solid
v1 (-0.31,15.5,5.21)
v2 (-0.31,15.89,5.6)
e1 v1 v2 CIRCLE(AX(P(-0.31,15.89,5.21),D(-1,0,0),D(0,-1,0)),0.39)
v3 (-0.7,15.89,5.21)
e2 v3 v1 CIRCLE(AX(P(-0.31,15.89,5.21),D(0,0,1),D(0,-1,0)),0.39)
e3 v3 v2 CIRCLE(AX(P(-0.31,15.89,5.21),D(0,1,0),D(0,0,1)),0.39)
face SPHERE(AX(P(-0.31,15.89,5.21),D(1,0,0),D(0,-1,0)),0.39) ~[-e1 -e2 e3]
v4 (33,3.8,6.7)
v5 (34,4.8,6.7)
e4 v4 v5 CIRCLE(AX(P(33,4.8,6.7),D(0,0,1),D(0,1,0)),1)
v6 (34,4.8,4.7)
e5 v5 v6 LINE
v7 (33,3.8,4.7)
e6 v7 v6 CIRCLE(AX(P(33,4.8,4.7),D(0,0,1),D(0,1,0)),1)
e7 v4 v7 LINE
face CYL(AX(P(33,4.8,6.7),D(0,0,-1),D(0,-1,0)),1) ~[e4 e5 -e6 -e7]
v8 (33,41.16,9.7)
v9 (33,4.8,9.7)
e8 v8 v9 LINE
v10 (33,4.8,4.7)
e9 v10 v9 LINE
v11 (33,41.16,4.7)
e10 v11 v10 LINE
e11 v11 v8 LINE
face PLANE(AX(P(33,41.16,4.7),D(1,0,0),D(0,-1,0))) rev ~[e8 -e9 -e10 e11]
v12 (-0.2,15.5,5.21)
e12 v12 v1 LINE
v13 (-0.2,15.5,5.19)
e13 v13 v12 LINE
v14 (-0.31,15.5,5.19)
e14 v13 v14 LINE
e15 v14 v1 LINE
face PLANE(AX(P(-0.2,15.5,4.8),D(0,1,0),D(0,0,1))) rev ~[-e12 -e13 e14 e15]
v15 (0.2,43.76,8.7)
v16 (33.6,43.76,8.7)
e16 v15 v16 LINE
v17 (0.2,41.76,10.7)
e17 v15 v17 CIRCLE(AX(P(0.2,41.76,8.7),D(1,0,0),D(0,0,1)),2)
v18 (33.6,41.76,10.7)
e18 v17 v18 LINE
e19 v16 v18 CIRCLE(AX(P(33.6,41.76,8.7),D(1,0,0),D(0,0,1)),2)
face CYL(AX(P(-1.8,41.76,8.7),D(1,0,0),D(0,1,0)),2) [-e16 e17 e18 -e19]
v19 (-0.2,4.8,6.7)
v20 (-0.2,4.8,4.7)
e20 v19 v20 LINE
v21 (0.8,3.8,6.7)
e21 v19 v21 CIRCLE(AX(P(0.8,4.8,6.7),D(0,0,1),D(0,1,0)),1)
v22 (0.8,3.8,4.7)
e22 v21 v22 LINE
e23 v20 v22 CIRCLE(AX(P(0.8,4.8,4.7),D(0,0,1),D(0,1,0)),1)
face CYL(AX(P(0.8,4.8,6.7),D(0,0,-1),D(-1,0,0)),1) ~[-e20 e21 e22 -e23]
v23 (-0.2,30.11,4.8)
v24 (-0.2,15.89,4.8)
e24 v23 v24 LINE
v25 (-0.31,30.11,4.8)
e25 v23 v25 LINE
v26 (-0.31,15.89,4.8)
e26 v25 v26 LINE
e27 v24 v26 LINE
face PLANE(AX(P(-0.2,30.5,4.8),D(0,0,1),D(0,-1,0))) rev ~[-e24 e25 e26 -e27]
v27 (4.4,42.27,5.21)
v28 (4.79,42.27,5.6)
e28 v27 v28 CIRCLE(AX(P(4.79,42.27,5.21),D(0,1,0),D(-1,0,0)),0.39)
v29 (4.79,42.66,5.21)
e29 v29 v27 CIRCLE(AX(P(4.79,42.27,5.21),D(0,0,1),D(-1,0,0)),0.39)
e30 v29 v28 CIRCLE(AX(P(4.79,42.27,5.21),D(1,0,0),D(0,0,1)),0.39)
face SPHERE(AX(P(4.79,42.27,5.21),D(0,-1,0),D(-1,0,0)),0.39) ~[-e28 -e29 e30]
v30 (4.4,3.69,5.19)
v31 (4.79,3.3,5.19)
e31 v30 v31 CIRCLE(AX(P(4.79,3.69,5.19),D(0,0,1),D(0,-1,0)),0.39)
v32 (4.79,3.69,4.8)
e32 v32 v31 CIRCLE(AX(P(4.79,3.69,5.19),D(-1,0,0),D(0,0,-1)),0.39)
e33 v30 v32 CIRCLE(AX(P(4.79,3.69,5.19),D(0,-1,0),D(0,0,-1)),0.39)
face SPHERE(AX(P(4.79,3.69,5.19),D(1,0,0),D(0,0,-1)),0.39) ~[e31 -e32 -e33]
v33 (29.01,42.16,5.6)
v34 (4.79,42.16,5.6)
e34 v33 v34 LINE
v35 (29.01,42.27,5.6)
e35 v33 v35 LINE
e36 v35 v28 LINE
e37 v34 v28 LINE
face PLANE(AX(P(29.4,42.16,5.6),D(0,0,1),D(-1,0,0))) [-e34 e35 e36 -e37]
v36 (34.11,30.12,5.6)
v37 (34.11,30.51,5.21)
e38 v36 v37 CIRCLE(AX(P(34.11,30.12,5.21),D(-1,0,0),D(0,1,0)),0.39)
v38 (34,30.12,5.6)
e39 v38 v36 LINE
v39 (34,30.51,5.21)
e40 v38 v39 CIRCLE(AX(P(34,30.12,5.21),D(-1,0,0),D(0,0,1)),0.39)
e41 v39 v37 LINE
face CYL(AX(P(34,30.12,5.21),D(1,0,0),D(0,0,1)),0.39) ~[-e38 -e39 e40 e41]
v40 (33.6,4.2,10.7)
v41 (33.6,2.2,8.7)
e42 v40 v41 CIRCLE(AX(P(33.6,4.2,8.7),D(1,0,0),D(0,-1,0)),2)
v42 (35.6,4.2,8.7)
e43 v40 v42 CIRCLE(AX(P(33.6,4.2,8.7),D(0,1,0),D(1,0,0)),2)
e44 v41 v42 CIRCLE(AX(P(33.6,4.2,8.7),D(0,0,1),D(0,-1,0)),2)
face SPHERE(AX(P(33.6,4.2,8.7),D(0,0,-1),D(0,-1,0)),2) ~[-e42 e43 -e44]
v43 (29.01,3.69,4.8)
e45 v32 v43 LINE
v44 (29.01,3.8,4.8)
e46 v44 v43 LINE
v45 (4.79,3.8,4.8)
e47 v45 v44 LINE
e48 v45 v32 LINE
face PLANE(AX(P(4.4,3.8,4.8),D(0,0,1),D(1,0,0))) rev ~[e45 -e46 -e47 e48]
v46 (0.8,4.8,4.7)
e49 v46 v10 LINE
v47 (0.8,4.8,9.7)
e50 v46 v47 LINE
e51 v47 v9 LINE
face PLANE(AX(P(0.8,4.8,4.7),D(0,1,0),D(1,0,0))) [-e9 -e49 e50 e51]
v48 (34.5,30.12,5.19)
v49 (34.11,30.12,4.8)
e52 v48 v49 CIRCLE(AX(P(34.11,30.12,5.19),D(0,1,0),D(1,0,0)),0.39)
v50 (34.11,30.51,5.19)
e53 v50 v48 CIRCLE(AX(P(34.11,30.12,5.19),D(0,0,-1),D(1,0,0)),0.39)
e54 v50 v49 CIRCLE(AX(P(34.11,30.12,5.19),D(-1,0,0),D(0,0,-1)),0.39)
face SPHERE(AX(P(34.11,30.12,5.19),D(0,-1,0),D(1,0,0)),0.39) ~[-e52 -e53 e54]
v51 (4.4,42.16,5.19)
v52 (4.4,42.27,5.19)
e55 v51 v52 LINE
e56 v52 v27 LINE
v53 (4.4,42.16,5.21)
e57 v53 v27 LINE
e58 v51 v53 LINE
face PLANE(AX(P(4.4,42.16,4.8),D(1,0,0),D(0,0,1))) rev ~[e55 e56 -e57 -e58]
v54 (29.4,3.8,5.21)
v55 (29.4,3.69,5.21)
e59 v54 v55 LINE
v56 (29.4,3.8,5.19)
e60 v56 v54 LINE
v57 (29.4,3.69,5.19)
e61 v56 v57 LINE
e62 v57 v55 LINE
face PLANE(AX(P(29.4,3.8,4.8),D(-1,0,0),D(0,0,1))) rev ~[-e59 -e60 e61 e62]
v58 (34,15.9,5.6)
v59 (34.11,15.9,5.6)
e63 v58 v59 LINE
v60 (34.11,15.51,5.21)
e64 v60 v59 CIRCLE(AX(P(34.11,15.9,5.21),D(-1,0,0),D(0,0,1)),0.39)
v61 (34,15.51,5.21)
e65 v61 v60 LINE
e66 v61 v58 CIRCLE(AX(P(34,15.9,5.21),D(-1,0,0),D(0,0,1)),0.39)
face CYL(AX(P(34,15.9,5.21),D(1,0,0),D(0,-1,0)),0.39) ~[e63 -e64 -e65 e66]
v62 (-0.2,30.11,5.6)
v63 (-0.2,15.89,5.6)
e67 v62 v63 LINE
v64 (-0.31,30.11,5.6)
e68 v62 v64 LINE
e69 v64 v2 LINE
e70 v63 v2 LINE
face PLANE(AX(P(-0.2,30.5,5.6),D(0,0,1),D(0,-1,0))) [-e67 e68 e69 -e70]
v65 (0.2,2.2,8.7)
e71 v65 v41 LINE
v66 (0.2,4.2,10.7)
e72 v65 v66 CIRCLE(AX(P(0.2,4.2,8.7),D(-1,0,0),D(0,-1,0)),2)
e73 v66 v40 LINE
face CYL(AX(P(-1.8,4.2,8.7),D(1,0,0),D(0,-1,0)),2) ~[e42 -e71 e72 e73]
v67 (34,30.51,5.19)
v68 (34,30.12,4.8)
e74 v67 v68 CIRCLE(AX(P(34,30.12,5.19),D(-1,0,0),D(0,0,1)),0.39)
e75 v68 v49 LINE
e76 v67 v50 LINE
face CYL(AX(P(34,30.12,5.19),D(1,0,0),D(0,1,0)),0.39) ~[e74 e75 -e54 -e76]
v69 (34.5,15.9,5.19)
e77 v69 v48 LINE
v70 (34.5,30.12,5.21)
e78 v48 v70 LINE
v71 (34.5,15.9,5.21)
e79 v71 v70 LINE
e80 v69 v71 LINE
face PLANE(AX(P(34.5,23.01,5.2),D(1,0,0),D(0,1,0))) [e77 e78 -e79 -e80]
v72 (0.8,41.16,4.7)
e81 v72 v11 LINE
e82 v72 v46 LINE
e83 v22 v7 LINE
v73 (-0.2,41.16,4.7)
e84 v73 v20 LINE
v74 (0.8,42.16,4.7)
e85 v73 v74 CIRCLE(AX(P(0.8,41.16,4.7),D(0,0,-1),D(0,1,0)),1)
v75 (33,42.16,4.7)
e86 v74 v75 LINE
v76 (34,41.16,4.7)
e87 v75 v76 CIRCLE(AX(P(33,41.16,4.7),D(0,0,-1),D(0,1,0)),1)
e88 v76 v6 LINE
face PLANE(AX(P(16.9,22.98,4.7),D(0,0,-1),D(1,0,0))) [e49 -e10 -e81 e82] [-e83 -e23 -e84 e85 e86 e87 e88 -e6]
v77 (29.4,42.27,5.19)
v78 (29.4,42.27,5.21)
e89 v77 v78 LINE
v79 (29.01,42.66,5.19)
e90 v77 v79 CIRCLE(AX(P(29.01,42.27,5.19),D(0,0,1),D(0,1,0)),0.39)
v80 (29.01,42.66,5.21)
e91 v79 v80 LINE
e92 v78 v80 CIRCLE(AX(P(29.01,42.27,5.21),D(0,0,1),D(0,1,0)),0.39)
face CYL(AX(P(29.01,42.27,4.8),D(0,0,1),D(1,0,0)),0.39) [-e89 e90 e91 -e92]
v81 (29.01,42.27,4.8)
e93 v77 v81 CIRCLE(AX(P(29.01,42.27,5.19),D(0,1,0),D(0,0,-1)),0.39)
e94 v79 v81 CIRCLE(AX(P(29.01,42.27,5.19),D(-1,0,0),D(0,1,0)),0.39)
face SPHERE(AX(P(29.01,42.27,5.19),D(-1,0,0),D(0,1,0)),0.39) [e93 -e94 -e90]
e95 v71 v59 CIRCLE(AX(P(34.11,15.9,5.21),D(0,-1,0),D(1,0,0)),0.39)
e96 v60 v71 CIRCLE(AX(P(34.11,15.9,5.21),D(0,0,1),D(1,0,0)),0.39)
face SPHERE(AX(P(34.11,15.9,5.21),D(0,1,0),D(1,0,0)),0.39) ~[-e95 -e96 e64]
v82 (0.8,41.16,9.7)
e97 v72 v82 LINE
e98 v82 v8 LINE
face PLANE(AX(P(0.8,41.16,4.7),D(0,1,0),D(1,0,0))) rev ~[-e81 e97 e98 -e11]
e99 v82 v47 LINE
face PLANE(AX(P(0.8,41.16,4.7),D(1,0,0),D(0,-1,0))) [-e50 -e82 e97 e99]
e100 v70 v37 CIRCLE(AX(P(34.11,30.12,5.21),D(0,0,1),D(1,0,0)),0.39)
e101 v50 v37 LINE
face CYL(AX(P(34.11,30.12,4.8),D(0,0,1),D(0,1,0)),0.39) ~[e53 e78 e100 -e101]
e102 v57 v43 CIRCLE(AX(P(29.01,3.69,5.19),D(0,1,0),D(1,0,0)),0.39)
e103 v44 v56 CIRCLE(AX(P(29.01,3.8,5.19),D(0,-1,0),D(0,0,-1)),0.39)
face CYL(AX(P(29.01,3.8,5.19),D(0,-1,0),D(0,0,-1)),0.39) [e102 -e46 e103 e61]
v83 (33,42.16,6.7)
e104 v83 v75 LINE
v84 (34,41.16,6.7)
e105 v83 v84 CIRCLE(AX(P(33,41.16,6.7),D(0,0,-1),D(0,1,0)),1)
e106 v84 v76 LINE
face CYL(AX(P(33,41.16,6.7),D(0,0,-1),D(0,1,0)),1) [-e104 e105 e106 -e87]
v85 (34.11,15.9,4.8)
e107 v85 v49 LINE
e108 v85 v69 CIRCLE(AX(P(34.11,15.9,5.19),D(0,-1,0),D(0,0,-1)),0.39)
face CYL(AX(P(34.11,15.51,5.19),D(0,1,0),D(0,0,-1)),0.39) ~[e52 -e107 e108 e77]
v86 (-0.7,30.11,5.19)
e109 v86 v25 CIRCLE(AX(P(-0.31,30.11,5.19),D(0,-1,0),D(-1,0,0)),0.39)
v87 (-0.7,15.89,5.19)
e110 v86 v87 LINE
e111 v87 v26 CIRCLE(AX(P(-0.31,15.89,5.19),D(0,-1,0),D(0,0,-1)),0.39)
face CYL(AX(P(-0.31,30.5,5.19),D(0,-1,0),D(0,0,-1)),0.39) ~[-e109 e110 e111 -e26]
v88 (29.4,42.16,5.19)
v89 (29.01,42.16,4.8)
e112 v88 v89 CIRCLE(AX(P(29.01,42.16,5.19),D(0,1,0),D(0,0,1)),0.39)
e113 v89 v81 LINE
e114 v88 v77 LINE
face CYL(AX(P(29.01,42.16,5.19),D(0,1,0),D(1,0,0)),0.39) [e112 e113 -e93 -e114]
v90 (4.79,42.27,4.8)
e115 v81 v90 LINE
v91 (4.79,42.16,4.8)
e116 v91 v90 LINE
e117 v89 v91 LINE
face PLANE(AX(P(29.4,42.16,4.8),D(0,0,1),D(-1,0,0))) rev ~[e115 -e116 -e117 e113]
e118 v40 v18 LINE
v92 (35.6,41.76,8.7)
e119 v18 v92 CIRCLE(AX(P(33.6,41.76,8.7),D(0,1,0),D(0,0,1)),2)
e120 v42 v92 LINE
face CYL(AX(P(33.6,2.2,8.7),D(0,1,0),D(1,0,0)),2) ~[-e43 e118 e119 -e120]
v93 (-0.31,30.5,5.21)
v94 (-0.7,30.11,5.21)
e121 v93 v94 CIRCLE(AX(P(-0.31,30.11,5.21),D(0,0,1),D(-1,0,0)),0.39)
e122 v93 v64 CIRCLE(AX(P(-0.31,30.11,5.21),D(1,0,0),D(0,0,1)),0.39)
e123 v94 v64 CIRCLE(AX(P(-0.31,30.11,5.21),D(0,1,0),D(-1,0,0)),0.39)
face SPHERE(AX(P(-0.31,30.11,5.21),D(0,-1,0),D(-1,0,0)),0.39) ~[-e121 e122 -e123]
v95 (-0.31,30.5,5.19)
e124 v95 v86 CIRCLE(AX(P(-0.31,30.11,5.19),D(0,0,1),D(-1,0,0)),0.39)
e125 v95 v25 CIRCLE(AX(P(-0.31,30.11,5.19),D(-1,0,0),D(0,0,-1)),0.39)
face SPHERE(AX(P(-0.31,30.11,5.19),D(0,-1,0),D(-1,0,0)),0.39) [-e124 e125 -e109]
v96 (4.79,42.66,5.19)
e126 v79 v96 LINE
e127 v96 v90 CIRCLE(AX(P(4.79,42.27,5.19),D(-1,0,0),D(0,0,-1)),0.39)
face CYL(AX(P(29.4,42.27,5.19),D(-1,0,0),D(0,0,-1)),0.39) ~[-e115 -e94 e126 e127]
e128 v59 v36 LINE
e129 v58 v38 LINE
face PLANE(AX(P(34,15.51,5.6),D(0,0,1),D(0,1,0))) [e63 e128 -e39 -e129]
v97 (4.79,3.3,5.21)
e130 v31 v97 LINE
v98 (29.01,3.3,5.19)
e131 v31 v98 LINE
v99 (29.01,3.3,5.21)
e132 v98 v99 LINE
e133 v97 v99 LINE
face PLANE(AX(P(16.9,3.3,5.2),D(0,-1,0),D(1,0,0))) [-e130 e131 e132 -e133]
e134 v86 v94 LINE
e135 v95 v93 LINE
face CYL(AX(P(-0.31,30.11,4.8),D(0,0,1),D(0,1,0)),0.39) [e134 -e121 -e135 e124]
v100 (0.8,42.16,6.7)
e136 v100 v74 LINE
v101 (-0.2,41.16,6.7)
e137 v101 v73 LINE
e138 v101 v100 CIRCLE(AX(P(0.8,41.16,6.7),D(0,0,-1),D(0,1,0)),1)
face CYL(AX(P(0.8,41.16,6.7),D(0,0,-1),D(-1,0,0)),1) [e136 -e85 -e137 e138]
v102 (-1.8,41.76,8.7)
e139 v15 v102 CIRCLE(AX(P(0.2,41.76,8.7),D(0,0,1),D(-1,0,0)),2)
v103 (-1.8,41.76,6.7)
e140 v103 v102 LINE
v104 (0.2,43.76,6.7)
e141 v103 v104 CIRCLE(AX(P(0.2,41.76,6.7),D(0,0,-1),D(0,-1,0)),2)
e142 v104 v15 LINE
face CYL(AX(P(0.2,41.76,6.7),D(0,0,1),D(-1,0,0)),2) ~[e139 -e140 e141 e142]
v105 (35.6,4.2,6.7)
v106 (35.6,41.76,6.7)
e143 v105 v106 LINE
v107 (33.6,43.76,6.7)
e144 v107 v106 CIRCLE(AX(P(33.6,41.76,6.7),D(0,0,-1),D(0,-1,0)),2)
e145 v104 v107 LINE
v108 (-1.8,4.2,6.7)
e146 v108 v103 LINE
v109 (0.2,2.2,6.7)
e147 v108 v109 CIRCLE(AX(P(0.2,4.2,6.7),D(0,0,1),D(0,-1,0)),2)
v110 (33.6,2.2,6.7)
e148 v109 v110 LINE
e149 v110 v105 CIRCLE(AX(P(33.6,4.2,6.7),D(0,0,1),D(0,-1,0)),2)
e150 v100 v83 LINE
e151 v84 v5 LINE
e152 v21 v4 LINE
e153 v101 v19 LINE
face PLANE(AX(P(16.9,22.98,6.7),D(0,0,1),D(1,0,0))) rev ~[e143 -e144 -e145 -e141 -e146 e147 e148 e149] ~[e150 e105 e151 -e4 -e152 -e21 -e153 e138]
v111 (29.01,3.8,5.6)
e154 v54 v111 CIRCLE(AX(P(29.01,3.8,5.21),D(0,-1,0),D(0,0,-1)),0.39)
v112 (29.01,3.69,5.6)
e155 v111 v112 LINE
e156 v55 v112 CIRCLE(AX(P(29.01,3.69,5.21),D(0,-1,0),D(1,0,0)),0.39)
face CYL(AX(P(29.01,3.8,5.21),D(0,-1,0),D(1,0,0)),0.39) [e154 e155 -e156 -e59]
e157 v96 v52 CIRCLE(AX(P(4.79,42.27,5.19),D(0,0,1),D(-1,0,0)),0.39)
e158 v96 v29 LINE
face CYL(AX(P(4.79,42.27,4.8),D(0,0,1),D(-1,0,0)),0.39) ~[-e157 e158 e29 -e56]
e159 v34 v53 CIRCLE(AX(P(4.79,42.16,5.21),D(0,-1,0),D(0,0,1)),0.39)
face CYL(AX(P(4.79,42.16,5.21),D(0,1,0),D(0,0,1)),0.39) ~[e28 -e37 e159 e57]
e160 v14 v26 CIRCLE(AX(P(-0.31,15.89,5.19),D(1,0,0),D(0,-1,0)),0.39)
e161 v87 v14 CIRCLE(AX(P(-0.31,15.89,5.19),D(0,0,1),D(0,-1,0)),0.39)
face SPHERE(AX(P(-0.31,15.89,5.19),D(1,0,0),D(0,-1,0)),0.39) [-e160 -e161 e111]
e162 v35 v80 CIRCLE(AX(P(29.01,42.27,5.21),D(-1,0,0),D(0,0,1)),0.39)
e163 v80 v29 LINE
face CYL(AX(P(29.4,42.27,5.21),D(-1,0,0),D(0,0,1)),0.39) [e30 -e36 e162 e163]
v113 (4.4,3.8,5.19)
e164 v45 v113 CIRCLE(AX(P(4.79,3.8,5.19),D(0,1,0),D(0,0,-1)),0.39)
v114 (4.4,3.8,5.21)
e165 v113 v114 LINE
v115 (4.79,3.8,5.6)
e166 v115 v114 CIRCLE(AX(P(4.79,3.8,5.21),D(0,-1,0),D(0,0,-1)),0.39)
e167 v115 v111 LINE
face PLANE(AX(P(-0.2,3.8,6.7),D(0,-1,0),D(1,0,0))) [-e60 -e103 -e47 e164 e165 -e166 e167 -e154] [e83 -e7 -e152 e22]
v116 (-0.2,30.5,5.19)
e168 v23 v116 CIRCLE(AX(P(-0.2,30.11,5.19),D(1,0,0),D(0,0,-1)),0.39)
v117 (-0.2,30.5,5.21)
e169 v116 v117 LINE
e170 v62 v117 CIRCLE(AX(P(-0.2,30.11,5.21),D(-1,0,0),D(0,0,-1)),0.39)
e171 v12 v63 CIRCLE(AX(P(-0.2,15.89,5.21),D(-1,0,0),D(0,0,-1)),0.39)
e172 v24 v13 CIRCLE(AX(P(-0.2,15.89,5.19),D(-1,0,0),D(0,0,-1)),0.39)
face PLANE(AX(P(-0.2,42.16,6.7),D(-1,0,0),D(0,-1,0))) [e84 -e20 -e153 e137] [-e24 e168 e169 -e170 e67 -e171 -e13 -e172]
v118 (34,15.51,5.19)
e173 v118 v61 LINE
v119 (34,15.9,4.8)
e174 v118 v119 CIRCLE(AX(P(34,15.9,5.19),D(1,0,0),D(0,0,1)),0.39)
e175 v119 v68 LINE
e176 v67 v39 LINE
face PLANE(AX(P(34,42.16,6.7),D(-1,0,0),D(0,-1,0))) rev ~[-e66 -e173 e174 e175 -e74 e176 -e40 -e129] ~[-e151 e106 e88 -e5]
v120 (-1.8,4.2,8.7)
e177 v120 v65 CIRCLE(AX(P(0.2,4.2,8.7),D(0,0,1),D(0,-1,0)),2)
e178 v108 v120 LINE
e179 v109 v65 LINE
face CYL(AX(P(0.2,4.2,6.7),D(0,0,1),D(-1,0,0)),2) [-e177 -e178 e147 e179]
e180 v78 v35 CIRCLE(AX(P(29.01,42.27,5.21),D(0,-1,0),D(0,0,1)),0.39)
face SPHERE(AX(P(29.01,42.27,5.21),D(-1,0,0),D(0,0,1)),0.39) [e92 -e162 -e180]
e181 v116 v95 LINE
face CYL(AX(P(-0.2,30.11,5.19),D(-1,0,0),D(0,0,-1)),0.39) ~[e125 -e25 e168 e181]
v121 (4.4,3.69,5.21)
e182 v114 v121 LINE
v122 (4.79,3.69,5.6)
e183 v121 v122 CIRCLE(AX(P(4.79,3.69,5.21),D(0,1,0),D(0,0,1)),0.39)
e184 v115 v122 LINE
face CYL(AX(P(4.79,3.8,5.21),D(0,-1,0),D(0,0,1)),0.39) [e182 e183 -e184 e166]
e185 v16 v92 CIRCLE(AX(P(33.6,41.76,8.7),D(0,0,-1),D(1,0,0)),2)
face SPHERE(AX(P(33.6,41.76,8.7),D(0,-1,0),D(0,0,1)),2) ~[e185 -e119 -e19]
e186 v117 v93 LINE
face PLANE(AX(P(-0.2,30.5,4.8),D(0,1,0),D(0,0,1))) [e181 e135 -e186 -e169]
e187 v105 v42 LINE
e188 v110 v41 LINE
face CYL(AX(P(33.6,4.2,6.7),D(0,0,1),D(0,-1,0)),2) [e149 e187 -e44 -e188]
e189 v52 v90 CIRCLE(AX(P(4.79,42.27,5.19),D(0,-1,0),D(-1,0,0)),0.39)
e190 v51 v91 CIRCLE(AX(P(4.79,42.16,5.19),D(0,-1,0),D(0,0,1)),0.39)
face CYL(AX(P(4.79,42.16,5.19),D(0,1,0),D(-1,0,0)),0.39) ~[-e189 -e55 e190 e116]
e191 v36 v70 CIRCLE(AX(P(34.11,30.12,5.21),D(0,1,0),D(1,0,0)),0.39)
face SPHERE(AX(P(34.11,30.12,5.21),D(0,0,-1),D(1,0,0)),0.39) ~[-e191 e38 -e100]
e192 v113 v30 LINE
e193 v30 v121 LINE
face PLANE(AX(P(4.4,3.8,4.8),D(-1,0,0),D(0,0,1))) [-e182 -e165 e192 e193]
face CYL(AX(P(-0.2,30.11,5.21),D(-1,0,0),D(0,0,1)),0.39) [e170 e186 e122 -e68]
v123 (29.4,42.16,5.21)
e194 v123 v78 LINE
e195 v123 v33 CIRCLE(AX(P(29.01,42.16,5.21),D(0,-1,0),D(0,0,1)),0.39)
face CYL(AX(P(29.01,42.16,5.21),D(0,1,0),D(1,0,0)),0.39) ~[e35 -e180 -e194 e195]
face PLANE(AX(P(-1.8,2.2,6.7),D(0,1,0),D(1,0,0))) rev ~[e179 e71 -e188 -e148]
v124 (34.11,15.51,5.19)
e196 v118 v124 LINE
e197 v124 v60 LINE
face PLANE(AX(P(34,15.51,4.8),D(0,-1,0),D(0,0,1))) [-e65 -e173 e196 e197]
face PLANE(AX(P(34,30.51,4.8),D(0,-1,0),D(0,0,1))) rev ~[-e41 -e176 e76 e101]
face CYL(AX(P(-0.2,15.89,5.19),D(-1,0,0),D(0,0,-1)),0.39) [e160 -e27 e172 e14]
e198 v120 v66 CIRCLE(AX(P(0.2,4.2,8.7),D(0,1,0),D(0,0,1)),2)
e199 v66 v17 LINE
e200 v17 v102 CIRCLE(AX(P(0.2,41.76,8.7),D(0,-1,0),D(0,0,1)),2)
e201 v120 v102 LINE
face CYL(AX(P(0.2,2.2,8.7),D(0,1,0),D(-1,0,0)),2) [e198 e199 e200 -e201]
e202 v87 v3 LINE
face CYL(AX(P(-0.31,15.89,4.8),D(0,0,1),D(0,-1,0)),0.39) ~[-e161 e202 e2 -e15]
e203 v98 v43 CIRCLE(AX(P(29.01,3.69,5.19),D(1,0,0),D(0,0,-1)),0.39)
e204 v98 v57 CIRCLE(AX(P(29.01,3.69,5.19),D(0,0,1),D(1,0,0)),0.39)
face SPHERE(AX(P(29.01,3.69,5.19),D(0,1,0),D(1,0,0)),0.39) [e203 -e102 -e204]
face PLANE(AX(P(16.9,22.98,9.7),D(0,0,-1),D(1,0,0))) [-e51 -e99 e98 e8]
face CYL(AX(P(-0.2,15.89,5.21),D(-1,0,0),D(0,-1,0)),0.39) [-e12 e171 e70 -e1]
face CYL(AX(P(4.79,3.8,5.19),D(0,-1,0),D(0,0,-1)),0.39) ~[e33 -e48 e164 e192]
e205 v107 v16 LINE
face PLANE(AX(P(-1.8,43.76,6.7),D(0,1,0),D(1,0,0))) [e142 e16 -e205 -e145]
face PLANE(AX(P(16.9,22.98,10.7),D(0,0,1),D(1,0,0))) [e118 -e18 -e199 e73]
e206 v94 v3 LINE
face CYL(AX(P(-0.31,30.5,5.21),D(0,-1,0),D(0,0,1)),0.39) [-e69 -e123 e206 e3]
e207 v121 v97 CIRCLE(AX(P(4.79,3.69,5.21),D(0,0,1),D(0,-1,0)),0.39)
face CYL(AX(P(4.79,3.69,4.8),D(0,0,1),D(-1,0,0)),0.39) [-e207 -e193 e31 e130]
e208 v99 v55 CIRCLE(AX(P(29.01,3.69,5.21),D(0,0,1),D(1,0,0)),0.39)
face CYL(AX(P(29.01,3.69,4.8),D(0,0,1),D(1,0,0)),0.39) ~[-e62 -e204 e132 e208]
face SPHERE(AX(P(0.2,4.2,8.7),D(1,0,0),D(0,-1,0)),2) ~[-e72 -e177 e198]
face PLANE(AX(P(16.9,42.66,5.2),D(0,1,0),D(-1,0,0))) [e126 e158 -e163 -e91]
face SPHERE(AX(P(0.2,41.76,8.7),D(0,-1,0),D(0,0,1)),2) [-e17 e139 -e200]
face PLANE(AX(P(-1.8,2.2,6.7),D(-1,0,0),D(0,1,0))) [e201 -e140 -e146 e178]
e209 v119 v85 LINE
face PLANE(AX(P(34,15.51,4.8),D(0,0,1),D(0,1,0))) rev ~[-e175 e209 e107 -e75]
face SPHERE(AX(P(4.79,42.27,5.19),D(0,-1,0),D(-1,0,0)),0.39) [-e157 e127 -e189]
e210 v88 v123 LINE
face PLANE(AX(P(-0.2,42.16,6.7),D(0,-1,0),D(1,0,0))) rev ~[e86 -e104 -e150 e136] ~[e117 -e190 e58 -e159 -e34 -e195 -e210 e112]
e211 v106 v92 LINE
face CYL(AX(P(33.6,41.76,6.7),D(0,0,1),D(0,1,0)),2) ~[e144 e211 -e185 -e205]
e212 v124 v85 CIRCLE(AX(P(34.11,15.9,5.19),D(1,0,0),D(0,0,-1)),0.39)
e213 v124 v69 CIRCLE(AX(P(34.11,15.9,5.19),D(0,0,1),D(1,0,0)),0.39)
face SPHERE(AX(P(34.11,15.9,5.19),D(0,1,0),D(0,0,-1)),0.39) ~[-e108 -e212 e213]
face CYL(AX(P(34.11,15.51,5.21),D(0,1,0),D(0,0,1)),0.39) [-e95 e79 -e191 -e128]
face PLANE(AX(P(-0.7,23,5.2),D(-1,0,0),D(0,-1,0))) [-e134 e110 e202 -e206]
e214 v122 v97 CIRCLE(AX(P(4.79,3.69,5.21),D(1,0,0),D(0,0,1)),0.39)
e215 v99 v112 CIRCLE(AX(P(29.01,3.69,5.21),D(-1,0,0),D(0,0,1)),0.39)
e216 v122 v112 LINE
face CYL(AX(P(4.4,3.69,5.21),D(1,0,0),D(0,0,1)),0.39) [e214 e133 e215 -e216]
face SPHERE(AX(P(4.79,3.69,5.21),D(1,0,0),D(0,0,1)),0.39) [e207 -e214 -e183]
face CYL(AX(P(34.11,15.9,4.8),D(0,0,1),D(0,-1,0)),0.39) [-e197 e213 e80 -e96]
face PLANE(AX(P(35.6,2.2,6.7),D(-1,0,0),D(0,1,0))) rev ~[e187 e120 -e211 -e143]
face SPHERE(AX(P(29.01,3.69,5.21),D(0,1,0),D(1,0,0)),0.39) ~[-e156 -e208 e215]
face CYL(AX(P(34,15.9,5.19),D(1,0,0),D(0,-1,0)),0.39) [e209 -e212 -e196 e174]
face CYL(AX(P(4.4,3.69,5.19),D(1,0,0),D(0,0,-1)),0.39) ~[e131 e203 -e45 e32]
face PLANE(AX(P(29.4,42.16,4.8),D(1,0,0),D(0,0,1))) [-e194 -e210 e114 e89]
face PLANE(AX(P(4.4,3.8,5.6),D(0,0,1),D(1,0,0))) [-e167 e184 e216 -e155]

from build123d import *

# Parameters (mm, degrees)
SKETCH043_W     = 37.4
SKETCH043_H     = 41.56
PAD028_DEPTH    = 4
SKETCH044_W     = 34.2
SKETCH044_H     = 38.36
PAD029_DEPTH    = 2
SKETCH045_W     = 32.2
SKETCH045_H     = 36.36
POCKET024_DEPTH = 5
SKETCH046_W     = 25
SKETCH046_H     = 0.8
PAD030_DEPTH    = 0.5
SKETCH047_W     = 15
SKETCH047_H     = 0.8
PAD033_DEPTH    = 0.5
SKETCH054_W     = 15
SKETCH054_H     = 0.8
PAD034_DEPTH    = 0.5
SKETCH055_W     = 25
SKETCH055_H     = 0.8
PAD035_DEPTH    = 0.5
FILLET019_R     = 0.39
FILLET020_R     = 1
FILLET021_R     = 2


with BuildPart() as part:
    # Sketch043 (on DatumPlane) → Pad028 (new body)
    with BuildSketch(Plane.XY.offset(6.7)):
        with Locations((16.9, 22.98)):
            Rectangle(SKETCH043_W, SKETCH043_H)
    extrude(amount=PAD028_DEPTH)

    # Sketch044 (on Face5 of Pad028) → Pad029 (join)
    with BuildSketch(Plane(origin=(0, 0, 6.7), x_dir=(1, 0, 0), z_dir=(0, 0, -1))):
        with Locations((16.9, -22.98)):
            Rectangle(SKETCH044_W, SKETCH044_H)
    extrude(amount=PAD029_DEPTH)

    # Sketch045 (on Face11 of Pad029) → Pocket024 (cut)
    with BuildSketch(Plane(origin=(0, 0, 4.7), x_dir=(1, 0, 0), z_dir=(0, 0, -1))):
        with Locations((16.9, -22.98)):
            Rectangle(SKETCH045_W, SKETCH045_H)
    extrude(amount=-POCKET024_DEPTH, mode=Mode.SUBTRACT)

    # Sketch046 (on Face9 of Pocket024) → Pad030 (join)
    with BuildSketch(Plane(origin=(0, 42.16, 6.7), x_dir=(-1, 0, 0), z_dir=(0, 1, 0))):
        with Locations((-16.9, -1.5)):
            Rectangle(SKETCH046_W, SKETCH046_H)
    extrude(amount=PAD030_DEPTH)

    # Sketch047 (on Face10 of Pad030) → Pad033 (join)
    with BuildSketch(Plane(origin=(-0.2, 0, 6.7), x_dir=(0, -1, 0), z_dir=(-1, 0, 0))):
        with Locations((-23, -1.5)):
            Rectangle(SKETCH047_W, SKETCH047_H)
    extrude(amount=PAD033_DEPTH)

    # Sketch054 (on Face8 of Pad033) → Pad034 (join)
    with BuildSketch(Plane(origin=(34, 0, 6.7), x_dir=(0, 1, 0), z_dir=(1, 0, 0))):
        with Locations((23.01, -1.5)):
            Rectangle(SKETCH054_W, SKETCH054_H)
    extrude(amount=PAD034_DEPTH)

    # Sketch055 (on Face7 of Pad034) → Pad035 (join)
    with BuildSketch(Plane(origin=(0, 3.8, 6.7), x_dir=(1, 0, 0), z_dir=(0, -1, 0))):
        with Locations((16.9, -1.5)):
            Rectangle(SKETCH055_W, SKETCH055_H)
    extrude(amount=PAD035_DEPTH)

    # Fillet019
    fillet019_edges = [part.edges().sort_by_distance(p)[0] for p in [
        (34.5, 23.01, 4.8),
        (34.5, 30.51, 5.2),
        (34.5, 23.01, 5.6),
        (34.25, 30.51, 4.8),
        (34.25, 15.51, 4.8),
        (34.5, 15.51, 5.2),
        (34.25, 15.51, 5.6),
        (34.25, 30.51, 5.6),
        (29.4, 3.55, 5.6),
        (29.4, 3.55, 4.8),
        (29.4, 3.3, 5.2),
        (16.9, 3.3, 4.8),
        (16.9, 3.3, 5.6),
        (4.4, 3.55, 5.6),
        (4.4, 3.55, 4.8),
        (4.4, 3.3, 5.2),
        (-0.45, 15.5, 5.6),
        (-0.45, 15.5, 4.8),
        (-0.7, 15.5, 5.2),
        (-0.7, 23, 4.8),
        (-0.7, 23, 5.6),
        (-0.7, 30.5, 5.2),
        (-0.45, 30.5, 5.6),
        (-0.45, 30.5, 4.8),
        (4.4, 42.41, 5.6),
        (4.4, 42.41, 4.8),
        (4.4, 42.66, 5.2),
        (16.9, 42.66, 4.8),
        (16.9, 42.66, 5.6),
        (29.4, 42.41, 5.6),
        (29.4, 42.66, 5.2),
        (29.4, 42.41, 4.8),
    ]]
    fillet(fillet019_edges, radius=FILLET019_R)

    # Fillet020
    fillet020_edges = [part.edges().sort_by_distance(p)[0] for p in [
        (-0.2, 42.16, 5.7),
        (34, 42.16, 5.7),
        (34, 3.8, 5.7),
        (-0.2, 3.8, 5.7),
    ]]
    fillet(fillet020_edges, radius=FILLET020_R)

    # Fillet021
    fillet021_edges = [part.edges().sort_by_distance(p)[0] for p in [
        (35.6, 2.2, 8.7),
        (16.9, 2.2, 10.7),
        (35.6, 22.98, 10.7),
        (-1.8, 2.2, 8.7),
        (-1.8, 22.98, 10.7),
        (16.9, 43.76, 10.7),
        (35.6, 43.76, 8.7),
        (-1.8, 43.76, 8.7),
    ]]
    fillet(fillet021_edges, radius=FILLET021_R)


solid = part.part
